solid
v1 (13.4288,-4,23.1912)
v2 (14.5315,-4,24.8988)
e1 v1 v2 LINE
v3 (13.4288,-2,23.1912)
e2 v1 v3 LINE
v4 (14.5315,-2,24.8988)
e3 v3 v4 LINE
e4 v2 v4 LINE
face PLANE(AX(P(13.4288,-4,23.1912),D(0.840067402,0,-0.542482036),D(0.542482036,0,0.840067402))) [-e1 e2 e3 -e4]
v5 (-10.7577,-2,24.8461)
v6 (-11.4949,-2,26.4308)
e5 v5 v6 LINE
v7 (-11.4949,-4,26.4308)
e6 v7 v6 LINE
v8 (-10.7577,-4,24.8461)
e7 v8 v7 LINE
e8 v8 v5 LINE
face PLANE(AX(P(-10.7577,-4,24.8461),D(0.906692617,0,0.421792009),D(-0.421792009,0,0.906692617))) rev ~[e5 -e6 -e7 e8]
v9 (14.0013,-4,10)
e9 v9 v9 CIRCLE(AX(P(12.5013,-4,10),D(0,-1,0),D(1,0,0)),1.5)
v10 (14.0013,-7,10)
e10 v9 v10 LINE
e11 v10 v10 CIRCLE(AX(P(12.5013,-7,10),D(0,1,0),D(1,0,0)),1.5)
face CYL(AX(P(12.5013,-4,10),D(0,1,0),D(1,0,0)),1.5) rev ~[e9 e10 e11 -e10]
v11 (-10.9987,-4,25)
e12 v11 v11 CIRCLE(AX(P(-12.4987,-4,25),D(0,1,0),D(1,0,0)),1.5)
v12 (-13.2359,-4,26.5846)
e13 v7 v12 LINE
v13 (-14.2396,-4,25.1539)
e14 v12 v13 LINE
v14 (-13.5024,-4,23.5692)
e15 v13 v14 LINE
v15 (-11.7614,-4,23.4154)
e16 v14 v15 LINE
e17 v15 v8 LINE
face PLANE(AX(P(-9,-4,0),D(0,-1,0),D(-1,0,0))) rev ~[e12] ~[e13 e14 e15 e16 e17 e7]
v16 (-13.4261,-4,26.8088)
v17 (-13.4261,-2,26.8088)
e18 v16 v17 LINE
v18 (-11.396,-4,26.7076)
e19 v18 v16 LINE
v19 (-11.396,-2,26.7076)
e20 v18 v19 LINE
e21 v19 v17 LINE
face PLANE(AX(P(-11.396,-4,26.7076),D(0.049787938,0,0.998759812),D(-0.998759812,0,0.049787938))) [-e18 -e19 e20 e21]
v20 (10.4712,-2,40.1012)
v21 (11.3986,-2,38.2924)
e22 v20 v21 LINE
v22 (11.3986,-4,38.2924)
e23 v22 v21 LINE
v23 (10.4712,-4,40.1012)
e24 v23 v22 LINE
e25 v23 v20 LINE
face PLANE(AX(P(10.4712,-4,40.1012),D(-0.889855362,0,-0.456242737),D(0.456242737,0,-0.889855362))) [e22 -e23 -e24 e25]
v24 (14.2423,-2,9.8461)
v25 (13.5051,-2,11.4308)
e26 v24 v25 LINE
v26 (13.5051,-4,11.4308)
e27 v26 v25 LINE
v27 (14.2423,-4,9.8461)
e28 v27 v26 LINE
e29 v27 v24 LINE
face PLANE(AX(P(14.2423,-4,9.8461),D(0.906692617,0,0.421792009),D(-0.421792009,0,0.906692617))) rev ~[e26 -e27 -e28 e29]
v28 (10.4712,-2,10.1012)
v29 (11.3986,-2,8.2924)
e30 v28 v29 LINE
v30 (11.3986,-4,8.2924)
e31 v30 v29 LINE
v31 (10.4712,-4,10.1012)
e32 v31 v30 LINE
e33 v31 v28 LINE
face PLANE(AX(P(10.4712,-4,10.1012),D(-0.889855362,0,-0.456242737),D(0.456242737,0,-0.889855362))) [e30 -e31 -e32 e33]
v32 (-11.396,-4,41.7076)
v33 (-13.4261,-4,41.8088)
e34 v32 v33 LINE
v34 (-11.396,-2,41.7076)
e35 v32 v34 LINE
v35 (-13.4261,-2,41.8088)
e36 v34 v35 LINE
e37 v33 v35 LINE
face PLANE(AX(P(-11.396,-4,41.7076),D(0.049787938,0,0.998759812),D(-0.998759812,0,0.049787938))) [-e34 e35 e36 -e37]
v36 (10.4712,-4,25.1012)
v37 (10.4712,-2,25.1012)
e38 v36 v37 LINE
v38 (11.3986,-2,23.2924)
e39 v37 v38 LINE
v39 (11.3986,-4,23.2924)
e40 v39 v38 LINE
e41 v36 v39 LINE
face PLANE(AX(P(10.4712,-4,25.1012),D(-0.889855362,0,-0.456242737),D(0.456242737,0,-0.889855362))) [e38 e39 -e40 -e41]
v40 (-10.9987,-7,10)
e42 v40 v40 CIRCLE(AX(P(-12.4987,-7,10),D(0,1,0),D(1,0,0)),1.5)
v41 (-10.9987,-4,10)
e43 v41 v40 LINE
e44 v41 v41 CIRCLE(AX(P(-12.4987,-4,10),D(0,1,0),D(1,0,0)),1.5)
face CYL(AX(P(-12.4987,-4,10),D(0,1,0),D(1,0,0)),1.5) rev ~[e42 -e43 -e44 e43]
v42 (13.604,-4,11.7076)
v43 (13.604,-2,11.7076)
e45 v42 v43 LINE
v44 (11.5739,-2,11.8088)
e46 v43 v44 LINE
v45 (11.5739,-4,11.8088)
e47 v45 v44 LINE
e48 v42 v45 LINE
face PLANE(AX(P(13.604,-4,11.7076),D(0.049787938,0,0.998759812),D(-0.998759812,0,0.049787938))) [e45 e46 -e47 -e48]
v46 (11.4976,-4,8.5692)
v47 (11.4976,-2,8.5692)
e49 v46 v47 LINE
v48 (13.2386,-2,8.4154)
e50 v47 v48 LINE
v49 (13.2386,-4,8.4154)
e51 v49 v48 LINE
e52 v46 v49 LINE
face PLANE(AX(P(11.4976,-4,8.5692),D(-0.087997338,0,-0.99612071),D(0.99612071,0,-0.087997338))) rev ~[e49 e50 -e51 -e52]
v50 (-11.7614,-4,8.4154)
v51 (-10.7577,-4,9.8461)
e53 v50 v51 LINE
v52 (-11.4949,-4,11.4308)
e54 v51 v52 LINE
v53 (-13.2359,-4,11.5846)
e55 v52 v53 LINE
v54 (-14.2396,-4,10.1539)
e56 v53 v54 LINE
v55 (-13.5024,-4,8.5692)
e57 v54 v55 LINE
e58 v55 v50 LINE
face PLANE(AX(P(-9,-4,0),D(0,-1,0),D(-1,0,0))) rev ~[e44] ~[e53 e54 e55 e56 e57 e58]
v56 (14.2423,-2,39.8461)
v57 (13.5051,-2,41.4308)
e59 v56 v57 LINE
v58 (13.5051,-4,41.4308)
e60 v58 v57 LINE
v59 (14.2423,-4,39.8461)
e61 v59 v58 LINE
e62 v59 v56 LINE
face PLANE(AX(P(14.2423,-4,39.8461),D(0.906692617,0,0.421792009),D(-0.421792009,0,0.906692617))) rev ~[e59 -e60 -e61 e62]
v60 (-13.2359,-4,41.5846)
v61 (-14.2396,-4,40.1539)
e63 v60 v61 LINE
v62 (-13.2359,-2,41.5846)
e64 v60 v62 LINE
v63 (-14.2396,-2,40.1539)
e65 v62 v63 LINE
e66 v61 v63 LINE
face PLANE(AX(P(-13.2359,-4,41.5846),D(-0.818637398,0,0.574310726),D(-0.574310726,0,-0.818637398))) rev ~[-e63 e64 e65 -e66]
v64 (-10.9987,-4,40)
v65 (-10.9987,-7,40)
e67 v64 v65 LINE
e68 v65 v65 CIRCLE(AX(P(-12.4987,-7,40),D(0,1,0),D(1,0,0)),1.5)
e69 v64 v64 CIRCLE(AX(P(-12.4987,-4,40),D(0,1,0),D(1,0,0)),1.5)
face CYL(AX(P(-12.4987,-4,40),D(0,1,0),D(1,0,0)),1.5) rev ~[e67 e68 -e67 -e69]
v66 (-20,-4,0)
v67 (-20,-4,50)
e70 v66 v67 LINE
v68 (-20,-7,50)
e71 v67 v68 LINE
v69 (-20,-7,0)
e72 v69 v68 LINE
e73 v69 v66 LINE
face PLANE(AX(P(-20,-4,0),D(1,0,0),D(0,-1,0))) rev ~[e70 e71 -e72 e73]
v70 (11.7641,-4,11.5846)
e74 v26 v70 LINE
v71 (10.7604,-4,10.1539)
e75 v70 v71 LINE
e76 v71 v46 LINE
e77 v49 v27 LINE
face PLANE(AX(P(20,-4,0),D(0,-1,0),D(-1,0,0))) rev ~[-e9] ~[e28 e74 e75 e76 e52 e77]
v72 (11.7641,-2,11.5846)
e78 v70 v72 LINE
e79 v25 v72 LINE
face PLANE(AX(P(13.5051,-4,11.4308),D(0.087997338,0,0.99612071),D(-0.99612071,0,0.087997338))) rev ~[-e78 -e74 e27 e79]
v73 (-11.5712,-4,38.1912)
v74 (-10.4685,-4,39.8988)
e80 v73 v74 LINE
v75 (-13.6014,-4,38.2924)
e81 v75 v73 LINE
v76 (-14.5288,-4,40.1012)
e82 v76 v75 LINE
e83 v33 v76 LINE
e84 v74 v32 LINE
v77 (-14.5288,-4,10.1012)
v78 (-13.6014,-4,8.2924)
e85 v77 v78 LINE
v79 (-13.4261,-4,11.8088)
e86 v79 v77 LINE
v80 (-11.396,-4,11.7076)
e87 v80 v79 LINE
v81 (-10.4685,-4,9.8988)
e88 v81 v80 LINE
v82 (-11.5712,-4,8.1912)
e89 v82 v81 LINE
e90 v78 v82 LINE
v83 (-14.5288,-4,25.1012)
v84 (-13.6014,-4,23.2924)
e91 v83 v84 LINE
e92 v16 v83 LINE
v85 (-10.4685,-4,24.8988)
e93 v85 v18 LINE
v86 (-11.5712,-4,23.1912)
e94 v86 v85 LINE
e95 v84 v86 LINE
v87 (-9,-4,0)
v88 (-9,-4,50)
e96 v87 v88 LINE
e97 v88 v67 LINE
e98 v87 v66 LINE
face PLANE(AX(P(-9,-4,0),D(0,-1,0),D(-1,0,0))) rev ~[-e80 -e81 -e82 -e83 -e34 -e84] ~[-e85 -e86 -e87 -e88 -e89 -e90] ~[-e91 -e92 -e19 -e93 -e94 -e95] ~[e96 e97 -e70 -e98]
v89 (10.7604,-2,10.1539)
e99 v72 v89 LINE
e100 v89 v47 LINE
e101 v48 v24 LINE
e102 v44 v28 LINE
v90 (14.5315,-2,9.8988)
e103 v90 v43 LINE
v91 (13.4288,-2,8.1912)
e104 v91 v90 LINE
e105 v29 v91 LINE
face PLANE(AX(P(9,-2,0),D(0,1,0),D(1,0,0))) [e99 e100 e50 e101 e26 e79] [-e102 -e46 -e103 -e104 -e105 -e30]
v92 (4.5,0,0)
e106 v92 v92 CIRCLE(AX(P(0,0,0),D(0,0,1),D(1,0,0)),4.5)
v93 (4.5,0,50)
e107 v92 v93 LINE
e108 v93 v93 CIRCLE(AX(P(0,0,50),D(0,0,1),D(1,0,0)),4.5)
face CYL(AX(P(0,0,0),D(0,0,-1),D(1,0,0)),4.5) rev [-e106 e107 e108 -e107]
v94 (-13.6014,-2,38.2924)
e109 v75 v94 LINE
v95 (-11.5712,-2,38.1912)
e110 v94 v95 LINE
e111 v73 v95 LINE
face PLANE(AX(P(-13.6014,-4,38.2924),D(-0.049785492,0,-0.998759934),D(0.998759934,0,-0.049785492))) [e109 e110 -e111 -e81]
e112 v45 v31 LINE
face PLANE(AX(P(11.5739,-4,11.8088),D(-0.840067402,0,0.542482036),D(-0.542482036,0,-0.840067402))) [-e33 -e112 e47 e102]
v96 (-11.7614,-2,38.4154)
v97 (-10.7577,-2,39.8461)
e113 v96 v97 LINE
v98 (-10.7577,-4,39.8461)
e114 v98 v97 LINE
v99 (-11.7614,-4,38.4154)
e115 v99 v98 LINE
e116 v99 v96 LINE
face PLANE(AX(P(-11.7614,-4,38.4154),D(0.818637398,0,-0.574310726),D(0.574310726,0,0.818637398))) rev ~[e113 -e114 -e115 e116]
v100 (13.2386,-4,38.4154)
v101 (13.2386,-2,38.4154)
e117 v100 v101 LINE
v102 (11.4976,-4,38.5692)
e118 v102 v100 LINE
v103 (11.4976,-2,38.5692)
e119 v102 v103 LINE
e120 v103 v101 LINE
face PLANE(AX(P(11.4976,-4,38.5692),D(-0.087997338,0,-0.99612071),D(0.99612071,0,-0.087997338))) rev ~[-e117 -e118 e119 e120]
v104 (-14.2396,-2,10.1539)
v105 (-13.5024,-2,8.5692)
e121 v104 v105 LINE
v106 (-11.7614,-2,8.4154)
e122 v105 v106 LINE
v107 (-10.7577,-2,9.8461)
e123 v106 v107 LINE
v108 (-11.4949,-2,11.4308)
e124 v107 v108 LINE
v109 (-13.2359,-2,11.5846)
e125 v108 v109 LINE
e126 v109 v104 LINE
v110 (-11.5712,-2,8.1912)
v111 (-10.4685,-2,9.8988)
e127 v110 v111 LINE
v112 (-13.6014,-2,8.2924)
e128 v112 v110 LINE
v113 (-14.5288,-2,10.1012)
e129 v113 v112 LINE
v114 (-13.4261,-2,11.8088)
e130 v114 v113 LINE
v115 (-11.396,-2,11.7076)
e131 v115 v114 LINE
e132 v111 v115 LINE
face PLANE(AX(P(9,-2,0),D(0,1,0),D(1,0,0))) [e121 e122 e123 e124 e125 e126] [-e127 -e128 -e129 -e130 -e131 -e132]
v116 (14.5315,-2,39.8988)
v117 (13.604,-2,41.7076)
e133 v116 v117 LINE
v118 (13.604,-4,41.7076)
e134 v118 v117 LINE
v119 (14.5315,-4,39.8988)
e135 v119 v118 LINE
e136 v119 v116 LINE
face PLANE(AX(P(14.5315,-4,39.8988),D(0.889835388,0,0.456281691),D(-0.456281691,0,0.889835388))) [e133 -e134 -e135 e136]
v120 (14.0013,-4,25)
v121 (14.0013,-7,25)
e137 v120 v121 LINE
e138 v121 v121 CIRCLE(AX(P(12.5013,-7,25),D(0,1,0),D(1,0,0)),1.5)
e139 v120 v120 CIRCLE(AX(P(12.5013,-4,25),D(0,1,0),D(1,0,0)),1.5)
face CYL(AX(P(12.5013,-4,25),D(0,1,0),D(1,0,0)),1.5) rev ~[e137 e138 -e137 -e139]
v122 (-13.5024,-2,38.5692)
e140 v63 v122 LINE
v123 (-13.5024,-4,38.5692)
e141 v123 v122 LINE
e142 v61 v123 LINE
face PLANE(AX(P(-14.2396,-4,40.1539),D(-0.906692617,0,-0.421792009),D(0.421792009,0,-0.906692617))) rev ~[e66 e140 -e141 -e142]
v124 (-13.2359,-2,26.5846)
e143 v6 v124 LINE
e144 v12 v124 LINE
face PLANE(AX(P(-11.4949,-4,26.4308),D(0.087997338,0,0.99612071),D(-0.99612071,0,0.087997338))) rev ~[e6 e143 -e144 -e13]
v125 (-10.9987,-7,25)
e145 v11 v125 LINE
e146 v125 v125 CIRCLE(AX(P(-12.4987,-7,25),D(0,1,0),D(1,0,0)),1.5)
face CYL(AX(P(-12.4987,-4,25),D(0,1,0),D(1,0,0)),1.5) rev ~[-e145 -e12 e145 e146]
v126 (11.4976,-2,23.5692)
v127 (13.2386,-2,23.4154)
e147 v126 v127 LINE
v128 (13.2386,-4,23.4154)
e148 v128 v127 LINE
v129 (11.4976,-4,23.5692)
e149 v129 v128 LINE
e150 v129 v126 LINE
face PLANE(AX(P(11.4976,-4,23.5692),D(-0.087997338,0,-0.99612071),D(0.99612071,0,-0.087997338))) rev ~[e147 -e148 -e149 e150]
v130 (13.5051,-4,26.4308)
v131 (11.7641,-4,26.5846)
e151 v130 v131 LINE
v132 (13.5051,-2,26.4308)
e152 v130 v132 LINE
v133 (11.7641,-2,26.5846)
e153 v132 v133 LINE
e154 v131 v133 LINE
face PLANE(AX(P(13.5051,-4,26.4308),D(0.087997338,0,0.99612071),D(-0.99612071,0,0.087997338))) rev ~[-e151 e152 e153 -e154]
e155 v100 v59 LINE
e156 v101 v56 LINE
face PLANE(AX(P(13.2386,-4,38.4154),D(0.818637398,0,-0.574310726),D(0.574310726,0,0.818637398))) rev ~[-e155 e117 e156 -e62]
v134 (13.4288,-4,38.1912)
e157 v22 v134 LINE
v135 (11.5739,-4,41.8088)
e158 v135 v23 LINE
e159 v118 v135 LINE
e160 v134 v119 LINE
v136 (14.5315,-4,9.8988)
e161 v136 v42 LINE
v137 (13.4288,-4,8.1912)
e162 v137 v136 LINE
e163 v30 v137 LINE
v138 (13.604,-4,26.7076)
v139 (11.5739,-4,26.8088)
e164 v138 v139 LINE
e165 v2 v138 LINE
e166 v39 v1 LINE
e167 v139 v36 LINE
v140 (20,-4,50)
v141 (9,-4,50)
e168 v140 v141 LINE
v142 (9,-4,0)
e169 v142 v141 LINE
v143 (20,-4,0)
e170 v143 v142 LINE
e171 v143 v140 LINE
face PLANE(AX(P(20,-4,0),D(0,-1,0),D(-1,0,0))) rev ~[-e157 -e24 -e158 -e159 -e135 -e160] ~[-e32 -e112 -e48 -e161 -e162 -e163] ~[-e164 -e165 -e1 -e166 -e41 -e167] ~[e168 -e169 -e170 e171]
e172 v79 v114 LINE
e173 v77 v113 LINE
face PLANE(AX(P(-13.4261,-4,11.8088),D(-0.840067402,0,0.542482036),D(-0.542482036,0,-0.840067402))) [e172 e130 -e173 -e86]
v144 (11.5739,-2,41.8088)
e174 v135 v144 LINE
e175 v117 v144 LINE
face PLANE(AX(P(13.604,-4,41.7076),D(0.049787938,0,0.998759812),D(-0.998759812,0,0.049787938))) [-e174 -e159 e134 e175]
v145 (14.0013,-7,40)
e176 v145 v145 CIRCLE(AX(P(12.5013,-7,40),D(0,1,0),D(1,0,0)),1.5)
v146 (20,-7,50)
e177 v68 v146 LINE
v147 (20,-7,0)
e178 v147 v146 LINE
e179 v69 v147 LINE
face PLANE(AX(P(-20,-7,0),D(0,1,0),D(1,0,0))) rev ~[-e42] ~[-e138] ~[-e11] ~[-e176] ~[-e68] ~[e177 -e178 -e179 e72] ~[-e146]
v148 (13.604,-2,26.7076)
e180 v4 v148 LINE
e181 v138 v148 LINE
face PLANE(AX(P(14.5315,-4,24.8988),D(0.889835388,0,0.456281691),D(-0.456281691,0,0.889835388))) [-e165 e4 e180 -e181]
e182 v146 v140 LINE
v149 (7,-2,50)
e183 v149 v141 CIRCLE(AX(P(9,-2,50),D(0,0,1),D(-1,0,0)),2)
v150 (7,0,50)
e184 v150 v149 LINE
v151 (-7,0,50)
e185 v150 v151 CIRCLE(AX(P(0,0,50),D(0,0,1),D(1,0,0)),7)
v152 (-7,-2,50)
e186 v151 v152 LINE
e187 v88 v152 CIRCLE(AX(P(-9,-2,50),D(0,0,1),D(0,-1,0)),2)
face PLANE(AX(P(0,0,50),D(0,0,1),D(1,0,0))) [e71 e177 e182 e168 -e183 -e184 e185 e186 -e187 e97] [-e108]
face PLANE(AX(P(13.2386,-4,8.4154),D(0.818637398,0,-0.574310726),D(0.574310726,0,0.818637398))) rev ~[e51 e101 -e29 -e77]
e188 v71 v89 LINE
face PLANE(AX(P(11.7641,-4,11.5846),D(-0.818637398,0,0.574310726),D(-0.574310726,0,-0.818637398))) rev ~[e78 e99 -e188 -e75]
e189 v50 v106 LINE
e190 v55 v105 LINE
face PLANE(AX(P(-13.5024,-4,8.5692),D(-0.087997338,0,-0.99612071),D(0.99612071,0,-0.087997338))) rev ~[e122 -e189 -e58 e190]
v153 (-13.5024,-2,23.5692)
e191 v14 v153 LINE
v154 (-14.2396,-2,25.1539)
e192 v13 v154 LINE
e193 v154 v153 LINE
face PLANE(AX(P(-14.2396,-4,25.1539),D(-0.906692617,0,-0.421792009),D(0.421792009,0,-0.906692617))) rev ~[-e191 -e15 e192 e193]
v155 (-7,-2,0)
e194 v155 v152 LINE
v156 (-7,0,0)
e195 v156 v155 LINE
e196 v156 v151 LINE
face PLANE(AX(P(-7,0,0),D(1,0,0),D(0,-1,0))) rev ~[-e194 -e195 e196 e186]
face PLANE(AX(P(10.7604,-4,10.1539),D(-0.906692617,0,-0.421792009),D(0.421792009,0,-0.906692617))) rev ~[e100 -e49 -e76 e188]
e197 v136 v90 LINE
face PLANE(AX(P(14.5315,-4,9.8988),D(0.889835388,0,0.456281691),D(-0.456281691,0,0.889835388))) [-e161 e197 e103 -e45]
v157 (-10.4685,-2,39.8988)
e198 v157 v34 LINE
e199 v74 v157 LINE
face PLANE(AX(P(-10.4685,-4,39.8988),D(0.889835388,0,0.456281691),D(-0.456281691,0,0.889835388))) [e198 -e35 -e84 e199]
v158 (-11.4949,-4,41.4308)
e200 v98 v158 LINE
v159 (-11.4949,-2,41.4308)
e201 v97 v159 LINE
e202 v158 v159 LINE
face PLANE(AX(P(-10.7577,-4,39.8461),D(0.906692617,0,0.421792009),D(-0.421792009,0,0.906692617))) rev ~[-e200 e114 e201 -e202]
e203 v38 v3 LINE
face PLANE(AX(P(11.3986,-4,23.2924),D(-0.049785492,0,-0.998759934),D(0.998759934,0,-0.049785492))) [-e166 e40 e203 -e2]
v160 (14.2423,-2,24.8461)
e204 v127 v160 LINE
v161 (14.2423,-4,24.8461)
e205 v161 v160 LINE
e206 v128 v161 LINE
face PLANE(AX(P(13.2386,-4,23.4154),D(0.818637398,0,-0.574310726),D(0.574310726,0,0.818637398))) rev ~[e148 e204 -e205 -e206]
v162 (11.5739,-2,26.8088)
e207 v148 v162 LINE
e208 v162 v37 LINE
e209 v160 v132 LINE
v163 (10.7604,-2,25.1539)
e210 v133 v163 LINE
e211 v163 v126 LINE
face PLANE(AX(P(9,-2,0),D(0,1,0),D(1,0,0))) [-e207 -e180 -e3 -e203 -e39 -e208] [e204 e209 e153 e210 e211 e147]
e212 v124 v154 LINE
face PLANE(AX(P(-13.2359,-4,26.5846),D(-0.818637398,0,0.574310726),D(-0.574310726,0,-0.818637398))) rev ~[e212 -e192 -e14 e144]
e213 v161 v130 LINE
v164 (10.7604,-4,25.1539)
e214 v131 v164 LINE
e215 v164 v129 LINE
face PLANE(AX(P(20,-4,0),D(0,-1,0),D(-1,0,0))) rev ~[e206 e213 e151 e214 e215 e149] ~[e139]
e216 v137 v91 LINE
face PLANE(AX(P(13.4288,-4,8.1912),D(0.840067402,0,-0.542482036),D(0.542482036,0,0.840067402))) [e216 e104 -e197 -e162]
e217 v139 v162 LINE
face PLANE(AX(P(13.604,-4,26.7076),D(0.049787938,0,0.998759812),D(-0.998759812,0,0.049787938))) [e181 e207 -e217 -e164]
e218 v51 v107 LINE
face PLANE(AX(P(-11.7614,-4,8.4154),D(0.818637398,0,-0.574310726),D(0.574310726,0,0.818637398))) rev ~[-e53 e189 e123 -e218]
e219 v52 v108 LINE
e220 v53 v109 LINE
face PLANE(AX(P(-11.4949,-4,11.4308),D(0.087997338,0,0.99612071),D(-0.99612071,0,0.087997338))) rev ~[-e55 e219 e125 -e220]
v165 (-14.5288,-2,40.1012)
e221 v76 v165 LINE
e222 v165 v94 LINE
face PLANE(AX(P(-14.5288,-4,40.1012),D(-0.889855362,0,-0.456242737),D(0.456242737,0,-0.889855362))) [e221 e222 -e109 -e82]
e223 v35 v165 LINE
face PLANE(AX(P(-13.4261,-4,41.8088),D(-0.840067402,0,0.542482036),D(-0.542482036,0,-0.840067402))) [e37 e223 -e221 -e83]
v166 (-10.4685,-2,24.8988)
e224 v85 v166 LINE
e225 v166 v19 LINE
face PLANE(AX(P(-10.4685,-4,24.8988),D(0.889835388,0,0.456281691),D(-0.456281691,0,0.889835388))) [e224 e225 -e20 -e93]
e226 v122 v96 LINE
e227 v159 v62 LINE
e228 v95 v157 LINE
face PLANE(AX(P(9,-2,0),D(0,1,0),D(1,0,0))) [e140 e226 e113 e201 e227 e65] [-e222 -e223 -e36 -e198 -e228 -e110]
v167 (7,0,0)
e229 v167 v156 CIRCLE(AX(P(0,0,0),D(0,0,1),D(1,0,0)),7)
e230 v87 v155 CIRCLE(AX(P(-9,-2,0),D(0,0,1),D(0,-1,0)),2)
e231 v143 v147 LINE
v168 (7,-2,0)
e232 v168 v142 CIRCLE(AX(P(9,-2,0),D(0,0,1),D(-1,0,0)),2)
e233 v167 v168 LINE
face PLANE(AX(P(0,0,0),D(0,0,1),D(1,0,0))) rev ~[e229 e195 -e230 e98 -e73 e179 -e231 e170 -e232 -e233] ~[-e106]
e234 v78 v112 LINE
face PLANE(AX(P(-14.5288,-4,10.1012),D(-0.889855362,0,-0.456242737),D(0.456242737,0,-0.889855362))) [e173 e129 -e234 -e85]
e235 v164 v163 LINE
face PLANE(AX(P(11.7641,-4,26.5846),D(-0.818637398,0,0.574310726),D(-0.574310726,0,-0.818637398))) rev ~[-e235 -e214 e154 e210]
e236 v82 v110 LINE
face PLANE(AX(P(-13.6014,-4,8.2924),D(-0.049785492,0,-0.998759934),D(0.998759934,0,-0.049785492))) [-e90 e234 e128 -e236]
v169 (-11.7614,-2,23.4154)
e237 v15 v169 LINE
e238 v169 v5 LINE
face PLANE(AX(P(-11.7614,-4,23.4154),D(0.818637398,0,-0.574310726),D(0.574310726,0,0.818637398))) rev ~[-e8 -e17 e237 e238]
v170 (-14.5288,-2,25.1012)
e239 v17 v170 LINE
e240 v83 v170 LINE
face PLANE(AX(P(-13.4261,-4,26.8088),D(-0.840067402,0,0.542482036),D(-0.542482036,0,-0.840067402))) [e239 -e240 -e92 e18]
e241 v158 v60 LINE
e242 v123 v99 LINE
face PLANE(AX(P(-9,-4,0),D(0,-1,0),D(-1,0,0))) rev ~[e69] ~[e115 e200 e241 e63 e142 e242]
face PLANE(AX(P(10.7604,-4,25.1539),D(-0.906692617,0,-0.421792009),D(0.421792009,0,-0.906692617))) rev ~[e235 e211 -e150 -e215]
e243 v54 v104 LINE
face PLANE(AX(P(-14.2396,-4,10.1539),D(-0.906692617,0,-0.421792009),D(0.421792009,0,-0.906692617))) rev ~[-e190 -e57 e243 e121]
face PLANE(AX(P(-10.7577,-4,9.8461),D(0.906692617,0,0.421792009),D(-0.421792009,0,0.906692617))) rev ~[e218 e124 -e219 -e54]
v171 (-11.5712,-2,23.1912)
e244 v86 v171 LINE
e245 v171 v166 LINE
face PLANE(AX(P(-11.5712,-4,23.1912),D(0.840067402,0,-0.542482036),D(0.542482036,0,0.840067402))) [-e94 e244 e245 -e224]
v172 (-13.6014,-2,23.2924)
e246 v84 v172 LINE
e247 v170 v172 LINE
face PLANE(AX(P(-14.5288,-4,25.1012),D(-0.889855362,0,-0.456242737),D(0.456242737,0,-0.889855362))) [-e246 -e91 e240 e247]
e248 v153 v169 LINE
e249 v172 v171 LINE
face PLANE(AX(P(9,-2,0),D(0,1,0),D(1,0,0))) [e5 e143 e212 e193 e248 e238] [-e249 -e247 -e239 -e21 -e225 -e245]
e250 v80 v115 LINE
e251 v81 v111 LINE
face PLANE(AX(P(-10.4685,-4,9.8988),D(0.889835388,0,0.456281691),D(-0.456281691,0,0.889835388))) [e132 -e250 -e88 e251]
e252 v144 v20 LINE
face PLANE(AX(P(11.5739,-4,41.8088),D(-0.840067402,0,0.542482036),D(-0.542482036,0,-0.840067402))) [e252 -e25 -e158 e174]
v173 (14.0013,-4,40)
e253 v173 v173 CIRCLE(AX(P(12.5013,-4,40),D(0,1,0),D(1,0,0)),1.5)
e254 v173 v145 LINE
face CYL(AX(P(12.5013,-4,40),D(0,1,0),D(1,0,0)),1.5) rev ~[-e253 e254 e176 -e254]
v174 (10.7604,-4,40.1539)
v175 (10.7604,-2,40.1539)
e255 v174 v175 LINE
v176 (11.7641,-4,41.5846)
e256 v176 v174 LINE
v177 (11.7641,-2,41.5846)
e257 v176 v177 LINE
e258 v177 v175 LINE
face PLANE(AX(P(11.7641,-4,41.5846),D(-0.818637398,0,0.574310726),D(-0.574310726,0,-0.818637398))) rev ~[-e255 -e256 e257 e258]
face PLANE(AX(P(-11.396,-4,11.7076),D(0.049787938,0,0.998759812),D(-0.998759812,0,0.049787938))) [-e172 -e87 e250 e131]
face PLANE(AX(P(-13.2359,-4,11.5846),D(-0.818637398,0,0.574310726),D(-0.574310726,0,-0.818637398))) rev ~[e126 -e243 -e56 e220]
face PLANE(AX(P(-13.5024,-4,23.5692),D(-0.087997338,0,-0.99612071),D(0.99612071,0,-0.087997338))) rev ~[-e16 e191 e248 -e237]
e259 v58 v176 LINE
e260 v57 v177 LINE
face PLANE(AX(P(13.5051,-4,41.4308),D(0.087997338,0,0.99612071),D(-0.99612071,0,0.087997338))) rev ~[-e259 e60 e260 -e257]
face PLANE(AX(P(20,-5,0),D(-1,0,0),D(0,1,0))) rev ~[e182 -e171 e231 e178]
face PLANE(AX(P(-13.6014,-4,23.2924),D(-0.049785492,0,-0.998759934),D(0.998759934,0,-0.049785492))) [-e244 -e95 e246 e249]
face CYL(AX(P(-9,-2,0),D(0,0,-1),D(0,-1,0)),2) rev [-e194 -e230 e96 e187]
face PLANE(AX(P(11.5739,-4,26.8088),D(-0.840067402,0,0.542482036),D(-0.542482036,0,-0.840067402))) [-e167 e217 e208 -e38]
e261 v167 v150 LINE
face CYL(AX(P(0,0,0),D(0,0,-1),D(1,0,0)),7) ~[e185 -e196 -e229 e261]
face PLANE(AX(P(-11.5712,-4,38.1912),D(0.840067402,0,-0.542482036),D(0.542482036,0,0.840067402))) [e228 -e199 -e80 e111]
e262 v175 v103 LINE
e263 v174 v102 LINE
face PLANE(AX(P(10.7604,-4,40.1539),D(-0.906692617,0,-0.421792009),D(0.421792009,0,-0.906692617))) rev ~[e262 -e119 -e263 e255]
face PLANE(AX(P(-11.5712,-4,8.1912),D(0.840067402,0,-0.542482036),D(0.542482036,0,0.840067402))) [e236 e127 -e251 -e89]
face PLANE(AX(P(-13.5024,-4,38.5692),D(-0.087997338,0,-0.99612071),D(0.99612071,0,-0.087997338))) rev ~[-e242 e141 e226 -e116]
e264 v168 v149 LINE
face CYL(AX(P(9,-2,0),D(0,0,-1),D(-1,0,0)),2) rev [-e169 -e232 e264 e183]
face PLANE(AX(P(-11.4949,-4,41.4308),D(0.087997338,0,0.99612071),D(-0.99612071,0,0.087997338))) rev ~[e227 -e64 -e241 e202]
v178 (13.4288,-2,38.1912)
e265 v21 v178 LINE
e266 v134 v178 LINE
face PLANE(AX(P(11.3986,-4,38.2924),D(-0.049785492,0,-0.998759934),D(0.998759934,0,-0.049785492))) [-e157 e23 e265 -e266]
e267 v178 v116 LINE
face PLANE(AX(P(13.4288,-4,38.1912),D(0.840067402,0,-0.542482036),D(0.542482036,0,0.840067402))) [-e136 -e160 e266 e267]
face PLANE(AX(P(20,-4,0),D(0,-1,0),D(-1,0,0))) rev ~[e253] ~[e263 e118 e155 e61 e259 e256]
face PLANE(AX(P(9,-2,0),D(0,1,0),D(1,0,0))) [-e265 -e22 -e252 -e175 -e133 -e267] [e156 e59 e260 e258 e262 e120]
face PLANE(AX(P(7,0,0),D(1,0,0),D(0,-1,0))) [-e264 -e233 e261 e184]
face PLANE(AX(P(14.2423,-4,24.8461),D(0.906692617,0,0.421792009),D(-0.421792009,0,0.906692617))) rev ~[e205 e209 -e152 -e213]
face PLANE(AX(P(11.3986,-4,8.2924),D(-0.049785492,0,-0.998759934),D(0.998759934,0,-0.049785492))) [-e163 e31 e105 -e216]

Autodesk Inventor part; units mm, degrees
ref_plane "YZ Plane" through (0, 0, 0) normal (1, 0, 0) x (0, 1, 0)
ref_plane "XZ Plane" through (0, 0, 0) normal (0, 1, 0) x (-1, 0, 0)
ref_plane "XY Plane" through (0, 0, 0) normal (0, 0, 1) x (1, 0, 0)
sketch "Эскиз1" plane through (0, 0, 0) normal (0, 0, 1) x (1, 0, 0)
  circle A0 centre (0, 0) radius 4.5
  line L0 (-9, -4) -> (-20, -4)
  line L1 (-20, -4) -> (-20, -5)
  line L2 (20, -5) -> (20, -4)
  line L3 (20, -4) -> (9, -4)
  line L4 (-20, -5) -> (-20, -7)
  line L5 (-20, -7) -> (20, -7)
  line L6 (20, -7) -> (20, -5)
  arc A1 (7, 0) -> (-7, 0) centre (0, 0) ccw
  line L7 (-7, 0) -> (-7, -2)
  line L8 (7, 0) -> (7, -2)
  arc A2 (-9, -4) -> (-7, -2) centre (-9, -2) ccw
  arc A3 (7, -2) -> (9, -4) centre (9, -2) ccw
  point P0 (3, -4)
  point P1 (-5, 0)
  point P2 (-5, -4)
  point P3 (5, 0)
  point P4 (5, -4)
  dimension "d0" = 9
  dimension "d2" = 1
  dimension "d20" = 2
  dimension "d21" = 14
  dimension "d22" = 2
extrude "Выдавливание4" add sketch "Эскиз1" along normal blind 50
sketch "Эскиз3" plane through (9, -4, 0) normal (0, 1, 0) x (1, 0, 0)
  circle A0 centre (-21.4987, -10) radius 1.5
  circle A1 centre (-21.4987, -25) radius 1.5
  circle A2 centre (-21.4987, -40) radius 1.5
  circle A3 centre (3.5013, -10) radius 1.5
  circle A4 centre (3.5013, -25) radius 1.5
  circle A5 centre (3.5013, -40) radius 1.5
  line L0 (5.2423, -9.8461) -> (4.5051, -11.4308)
  line L1 (4.5051, -11.4308) -> (2.7641, -11.5846)
  line L2 (2.7641, -11.5846) -> (1.7604, -10.1539)
  line L3 (1.7604, -10.1539) -> (2.4976, -8.5692)
  line L4 (2.4976, -8.5692) -> (4.2386, -8.4154)
  line L5 (4.2386, -8.4154) -> (5.2423, -9.8461)
  line L6 (2.3986, -8.2924) -> (4.4288, -8.1912)
  line L7 (4.4288, -8.1912) -> (5.5315, -9.8988)
  line L8 (5.5315, -9.8988) -> (4.604, -11.7076)
  line L9 (4.604, -11.7076) -> (2.5739, -11.8088)
  line L10 (2.5739, -11.8088) -> (1.4712, -10.1012)
  line L11 (1.4712, -10.1012) -> (2.3986, -8.2924)
  line L12 (3.5013, -10) -> (2.0013, -10)
  line L13 (3.5013, -10) -> (3.5013, -11.5)
  line L14 (1.4712, -25.1012) -> (2.3986, -23.2924)
  line L15 (2.3986, -23.2924) -> (4.4288, -23.1912)
  line L16 (4.4288, -23.1912) -> (5.5315, -24.8988)
  line L17 (4.2386, -23.4154) -> (5.2423, -24.8461)
  line L18 (2.4976, -23.5692) -> (4.2386, -23.4154)
  line L19 (1.7604, -25.1539) -> (2.4976, -23.5692)
  line L20 (2.7641, -26.5846) -> (1.7604, -25.1539)
  line L21 (2.5739, -26.8088) -> (1.4712, -25.1012)
  line L22 (4.604, -26.7076) -> (2.5739, -26.8088)
  line L23 (4.5051, -26.4308) -> (2.7641, -26.5846)
  line L24 (5.2423, -24.8461) -> (4.5051, -26.4308)
  line L25 (5.5315, -24.8988) -> (4.604, -26.7076)
  line L26 (1.4712, -40.1012) -> (2.3986, -38.2924)
  line L27 (2.3986, -38.2924) -> (4.4288, -38.1912)
  line L28 (4.4288, -38.1912) -> (5.5315, -39.8988)
  line L29 (4.2386, -38.4154) -> (5.2423, -39.8461)
  line L30 (2.4976, -38.5692) -> (4.2386, -38.4154)
  line L31 (1.7604, -40.1539) -> (2.4976, -38.5692)
  line L32 (2.7641, -41.5846) -> (1.7604, -40.1539)
  line L33 (2.5739, -41.8088) -> (1.4712, -40.1012)
  line L34 (4.604, -41.7076) -> (2.5739, -41.8088)
  line L35 (4.5051, -41.4308) -> (2.7641, -41.5846)
  line L36 (5.2423, -39.8461) -> (4.5051, -41.4308)
  line L37 (5.5315, -39.8988) -> (4.604, -41.7076)
  line L38 (-23.5288, -10.1012) -> (-22.6014, -8.2924)
  line L39 (-22.6014, -8.2924) -> (-20.5712, -8.1912)
  line L40 (-20.5712, -8.1912) -> (-19.4685, -9.8988)
  line L41 (-20.7614, -8.4154) -> (-19.7577, -9.8461)
  line L42 (-22.5024, -8.5692) -> (-20.7614, -8.4154)
  line L43 (-23.2396, -10.1539) -> (-22.5024, -8.5692)
  line L44 (-22.2359, -11.5846) -> (-23.2396, -10.1539)
  line L45 (-22.4261, -11.8088) -> (-23.5288, -10.1012)
  line L46 (-20.396, -11.7076) -> (-22.4261, -11.8088)
  line L47 (-20.4949, -11.4308) -> (-22.2359, -11.5846)
  line L48 (-19.7577, -9.8461) -> (-20.4949, -11.4308)
  line L49 (-19.4685, -9.8988) -> (-20.396, -11.7076)
  line L50 (-23.5288, -25.1012) -> (-22.6014, -23.2924)
  line L51 (-22.6014, -23.2924) -> (-20.5712, -23.1912)
  line L52 (-20.5712, -23.1912) -> (-19.4685, -24.8988)
  line L53 (-20.7614, -23.4154) -> (-19.7577, -24.8461)
  line L54 (-22.5024, -23.5692) -> (-20.7614, -23.4154)
  line L55 (-23.2396, -25.1539) -> (-22.5024, -23.5692)
  line L56 (-22.2359, -26.5846) -> (-23.2396, -25.1539)
  line L57 (-22.4261, -26.8088) -> (-23.5288, -25.1012)
  line L58 (-20.396, -26.7076) -> (-22.4261, -26.8088)
  line L59 (-20.4949, -26.4308) -> (-22.2359, -26.5846)
  line L60 (-19.7577, -24.8461) -> (-20.4949, -26.4308)
  line L61 (-19.4685, -24.8988) -> (-20.396, -26.7076)
  line L62 (-23.5288, -40.1012) -> (-22.6014, -38.2924)
  line L63 (-22.6014, -38.2924) -> (-20.5712, -38.1912)
  line L64 (-20.5712, -38.1912) -> (-19.4685, -39.8988)
  line L65 (-20.7614, -38.4154) -> (-19.7577, -39.8461)
  line L66 (-22.5024, -38.5692) -> (-20.7614, -38.4154)
  line L67 (-23.2396, -40.1539) -> (-22.5024, -38.5692)
  line L68 (-22.2359, -41.5846) -> (-23.2396, -40.1539)
  line L69 (-22.4261, -41.8088) -> (-23.5288, -40.1012)
  line L70 (-20.396, -41.7076) -> (-22.4261, -41.8088)
  line L71 (-20.4949, -41.4308) -> (-22.2359, -41.5846)
  line L72 (-19.7577, -39.8461) -> (-20.4949, -41.4308)
  line L73 (-19.4685, -39.8988) -> (-20.396, -41.7076)
  point P0 (-9, 0)
  dimension "d51" = 15
  dimension "d54" = 25
extrude "Выдавливание5" cut sketch "Эскиз3" against normal blind 3 contours A0
extrude "Выдавливание6" cut sketch "Эскиз3" against normal blind 3 contours A1 | A2 | A3 L13 L12 | L12 L13 A3 | A4 | A5
extrude "Выдавливание7" add sketch "Эскиз3" along normal blind 2 contours L6 L7 L8 L9 L10 L11 | L14 L15 L16 L25 L22 L21 | L26 L27 L28 L37 L34 L33 | L38 L39 L40 L49 L46 L45 | L50 L51 L52 L61 L58 L57 | L62 L63 L64 L73 L70 L69
properties part number "крепление направляющей руки"
